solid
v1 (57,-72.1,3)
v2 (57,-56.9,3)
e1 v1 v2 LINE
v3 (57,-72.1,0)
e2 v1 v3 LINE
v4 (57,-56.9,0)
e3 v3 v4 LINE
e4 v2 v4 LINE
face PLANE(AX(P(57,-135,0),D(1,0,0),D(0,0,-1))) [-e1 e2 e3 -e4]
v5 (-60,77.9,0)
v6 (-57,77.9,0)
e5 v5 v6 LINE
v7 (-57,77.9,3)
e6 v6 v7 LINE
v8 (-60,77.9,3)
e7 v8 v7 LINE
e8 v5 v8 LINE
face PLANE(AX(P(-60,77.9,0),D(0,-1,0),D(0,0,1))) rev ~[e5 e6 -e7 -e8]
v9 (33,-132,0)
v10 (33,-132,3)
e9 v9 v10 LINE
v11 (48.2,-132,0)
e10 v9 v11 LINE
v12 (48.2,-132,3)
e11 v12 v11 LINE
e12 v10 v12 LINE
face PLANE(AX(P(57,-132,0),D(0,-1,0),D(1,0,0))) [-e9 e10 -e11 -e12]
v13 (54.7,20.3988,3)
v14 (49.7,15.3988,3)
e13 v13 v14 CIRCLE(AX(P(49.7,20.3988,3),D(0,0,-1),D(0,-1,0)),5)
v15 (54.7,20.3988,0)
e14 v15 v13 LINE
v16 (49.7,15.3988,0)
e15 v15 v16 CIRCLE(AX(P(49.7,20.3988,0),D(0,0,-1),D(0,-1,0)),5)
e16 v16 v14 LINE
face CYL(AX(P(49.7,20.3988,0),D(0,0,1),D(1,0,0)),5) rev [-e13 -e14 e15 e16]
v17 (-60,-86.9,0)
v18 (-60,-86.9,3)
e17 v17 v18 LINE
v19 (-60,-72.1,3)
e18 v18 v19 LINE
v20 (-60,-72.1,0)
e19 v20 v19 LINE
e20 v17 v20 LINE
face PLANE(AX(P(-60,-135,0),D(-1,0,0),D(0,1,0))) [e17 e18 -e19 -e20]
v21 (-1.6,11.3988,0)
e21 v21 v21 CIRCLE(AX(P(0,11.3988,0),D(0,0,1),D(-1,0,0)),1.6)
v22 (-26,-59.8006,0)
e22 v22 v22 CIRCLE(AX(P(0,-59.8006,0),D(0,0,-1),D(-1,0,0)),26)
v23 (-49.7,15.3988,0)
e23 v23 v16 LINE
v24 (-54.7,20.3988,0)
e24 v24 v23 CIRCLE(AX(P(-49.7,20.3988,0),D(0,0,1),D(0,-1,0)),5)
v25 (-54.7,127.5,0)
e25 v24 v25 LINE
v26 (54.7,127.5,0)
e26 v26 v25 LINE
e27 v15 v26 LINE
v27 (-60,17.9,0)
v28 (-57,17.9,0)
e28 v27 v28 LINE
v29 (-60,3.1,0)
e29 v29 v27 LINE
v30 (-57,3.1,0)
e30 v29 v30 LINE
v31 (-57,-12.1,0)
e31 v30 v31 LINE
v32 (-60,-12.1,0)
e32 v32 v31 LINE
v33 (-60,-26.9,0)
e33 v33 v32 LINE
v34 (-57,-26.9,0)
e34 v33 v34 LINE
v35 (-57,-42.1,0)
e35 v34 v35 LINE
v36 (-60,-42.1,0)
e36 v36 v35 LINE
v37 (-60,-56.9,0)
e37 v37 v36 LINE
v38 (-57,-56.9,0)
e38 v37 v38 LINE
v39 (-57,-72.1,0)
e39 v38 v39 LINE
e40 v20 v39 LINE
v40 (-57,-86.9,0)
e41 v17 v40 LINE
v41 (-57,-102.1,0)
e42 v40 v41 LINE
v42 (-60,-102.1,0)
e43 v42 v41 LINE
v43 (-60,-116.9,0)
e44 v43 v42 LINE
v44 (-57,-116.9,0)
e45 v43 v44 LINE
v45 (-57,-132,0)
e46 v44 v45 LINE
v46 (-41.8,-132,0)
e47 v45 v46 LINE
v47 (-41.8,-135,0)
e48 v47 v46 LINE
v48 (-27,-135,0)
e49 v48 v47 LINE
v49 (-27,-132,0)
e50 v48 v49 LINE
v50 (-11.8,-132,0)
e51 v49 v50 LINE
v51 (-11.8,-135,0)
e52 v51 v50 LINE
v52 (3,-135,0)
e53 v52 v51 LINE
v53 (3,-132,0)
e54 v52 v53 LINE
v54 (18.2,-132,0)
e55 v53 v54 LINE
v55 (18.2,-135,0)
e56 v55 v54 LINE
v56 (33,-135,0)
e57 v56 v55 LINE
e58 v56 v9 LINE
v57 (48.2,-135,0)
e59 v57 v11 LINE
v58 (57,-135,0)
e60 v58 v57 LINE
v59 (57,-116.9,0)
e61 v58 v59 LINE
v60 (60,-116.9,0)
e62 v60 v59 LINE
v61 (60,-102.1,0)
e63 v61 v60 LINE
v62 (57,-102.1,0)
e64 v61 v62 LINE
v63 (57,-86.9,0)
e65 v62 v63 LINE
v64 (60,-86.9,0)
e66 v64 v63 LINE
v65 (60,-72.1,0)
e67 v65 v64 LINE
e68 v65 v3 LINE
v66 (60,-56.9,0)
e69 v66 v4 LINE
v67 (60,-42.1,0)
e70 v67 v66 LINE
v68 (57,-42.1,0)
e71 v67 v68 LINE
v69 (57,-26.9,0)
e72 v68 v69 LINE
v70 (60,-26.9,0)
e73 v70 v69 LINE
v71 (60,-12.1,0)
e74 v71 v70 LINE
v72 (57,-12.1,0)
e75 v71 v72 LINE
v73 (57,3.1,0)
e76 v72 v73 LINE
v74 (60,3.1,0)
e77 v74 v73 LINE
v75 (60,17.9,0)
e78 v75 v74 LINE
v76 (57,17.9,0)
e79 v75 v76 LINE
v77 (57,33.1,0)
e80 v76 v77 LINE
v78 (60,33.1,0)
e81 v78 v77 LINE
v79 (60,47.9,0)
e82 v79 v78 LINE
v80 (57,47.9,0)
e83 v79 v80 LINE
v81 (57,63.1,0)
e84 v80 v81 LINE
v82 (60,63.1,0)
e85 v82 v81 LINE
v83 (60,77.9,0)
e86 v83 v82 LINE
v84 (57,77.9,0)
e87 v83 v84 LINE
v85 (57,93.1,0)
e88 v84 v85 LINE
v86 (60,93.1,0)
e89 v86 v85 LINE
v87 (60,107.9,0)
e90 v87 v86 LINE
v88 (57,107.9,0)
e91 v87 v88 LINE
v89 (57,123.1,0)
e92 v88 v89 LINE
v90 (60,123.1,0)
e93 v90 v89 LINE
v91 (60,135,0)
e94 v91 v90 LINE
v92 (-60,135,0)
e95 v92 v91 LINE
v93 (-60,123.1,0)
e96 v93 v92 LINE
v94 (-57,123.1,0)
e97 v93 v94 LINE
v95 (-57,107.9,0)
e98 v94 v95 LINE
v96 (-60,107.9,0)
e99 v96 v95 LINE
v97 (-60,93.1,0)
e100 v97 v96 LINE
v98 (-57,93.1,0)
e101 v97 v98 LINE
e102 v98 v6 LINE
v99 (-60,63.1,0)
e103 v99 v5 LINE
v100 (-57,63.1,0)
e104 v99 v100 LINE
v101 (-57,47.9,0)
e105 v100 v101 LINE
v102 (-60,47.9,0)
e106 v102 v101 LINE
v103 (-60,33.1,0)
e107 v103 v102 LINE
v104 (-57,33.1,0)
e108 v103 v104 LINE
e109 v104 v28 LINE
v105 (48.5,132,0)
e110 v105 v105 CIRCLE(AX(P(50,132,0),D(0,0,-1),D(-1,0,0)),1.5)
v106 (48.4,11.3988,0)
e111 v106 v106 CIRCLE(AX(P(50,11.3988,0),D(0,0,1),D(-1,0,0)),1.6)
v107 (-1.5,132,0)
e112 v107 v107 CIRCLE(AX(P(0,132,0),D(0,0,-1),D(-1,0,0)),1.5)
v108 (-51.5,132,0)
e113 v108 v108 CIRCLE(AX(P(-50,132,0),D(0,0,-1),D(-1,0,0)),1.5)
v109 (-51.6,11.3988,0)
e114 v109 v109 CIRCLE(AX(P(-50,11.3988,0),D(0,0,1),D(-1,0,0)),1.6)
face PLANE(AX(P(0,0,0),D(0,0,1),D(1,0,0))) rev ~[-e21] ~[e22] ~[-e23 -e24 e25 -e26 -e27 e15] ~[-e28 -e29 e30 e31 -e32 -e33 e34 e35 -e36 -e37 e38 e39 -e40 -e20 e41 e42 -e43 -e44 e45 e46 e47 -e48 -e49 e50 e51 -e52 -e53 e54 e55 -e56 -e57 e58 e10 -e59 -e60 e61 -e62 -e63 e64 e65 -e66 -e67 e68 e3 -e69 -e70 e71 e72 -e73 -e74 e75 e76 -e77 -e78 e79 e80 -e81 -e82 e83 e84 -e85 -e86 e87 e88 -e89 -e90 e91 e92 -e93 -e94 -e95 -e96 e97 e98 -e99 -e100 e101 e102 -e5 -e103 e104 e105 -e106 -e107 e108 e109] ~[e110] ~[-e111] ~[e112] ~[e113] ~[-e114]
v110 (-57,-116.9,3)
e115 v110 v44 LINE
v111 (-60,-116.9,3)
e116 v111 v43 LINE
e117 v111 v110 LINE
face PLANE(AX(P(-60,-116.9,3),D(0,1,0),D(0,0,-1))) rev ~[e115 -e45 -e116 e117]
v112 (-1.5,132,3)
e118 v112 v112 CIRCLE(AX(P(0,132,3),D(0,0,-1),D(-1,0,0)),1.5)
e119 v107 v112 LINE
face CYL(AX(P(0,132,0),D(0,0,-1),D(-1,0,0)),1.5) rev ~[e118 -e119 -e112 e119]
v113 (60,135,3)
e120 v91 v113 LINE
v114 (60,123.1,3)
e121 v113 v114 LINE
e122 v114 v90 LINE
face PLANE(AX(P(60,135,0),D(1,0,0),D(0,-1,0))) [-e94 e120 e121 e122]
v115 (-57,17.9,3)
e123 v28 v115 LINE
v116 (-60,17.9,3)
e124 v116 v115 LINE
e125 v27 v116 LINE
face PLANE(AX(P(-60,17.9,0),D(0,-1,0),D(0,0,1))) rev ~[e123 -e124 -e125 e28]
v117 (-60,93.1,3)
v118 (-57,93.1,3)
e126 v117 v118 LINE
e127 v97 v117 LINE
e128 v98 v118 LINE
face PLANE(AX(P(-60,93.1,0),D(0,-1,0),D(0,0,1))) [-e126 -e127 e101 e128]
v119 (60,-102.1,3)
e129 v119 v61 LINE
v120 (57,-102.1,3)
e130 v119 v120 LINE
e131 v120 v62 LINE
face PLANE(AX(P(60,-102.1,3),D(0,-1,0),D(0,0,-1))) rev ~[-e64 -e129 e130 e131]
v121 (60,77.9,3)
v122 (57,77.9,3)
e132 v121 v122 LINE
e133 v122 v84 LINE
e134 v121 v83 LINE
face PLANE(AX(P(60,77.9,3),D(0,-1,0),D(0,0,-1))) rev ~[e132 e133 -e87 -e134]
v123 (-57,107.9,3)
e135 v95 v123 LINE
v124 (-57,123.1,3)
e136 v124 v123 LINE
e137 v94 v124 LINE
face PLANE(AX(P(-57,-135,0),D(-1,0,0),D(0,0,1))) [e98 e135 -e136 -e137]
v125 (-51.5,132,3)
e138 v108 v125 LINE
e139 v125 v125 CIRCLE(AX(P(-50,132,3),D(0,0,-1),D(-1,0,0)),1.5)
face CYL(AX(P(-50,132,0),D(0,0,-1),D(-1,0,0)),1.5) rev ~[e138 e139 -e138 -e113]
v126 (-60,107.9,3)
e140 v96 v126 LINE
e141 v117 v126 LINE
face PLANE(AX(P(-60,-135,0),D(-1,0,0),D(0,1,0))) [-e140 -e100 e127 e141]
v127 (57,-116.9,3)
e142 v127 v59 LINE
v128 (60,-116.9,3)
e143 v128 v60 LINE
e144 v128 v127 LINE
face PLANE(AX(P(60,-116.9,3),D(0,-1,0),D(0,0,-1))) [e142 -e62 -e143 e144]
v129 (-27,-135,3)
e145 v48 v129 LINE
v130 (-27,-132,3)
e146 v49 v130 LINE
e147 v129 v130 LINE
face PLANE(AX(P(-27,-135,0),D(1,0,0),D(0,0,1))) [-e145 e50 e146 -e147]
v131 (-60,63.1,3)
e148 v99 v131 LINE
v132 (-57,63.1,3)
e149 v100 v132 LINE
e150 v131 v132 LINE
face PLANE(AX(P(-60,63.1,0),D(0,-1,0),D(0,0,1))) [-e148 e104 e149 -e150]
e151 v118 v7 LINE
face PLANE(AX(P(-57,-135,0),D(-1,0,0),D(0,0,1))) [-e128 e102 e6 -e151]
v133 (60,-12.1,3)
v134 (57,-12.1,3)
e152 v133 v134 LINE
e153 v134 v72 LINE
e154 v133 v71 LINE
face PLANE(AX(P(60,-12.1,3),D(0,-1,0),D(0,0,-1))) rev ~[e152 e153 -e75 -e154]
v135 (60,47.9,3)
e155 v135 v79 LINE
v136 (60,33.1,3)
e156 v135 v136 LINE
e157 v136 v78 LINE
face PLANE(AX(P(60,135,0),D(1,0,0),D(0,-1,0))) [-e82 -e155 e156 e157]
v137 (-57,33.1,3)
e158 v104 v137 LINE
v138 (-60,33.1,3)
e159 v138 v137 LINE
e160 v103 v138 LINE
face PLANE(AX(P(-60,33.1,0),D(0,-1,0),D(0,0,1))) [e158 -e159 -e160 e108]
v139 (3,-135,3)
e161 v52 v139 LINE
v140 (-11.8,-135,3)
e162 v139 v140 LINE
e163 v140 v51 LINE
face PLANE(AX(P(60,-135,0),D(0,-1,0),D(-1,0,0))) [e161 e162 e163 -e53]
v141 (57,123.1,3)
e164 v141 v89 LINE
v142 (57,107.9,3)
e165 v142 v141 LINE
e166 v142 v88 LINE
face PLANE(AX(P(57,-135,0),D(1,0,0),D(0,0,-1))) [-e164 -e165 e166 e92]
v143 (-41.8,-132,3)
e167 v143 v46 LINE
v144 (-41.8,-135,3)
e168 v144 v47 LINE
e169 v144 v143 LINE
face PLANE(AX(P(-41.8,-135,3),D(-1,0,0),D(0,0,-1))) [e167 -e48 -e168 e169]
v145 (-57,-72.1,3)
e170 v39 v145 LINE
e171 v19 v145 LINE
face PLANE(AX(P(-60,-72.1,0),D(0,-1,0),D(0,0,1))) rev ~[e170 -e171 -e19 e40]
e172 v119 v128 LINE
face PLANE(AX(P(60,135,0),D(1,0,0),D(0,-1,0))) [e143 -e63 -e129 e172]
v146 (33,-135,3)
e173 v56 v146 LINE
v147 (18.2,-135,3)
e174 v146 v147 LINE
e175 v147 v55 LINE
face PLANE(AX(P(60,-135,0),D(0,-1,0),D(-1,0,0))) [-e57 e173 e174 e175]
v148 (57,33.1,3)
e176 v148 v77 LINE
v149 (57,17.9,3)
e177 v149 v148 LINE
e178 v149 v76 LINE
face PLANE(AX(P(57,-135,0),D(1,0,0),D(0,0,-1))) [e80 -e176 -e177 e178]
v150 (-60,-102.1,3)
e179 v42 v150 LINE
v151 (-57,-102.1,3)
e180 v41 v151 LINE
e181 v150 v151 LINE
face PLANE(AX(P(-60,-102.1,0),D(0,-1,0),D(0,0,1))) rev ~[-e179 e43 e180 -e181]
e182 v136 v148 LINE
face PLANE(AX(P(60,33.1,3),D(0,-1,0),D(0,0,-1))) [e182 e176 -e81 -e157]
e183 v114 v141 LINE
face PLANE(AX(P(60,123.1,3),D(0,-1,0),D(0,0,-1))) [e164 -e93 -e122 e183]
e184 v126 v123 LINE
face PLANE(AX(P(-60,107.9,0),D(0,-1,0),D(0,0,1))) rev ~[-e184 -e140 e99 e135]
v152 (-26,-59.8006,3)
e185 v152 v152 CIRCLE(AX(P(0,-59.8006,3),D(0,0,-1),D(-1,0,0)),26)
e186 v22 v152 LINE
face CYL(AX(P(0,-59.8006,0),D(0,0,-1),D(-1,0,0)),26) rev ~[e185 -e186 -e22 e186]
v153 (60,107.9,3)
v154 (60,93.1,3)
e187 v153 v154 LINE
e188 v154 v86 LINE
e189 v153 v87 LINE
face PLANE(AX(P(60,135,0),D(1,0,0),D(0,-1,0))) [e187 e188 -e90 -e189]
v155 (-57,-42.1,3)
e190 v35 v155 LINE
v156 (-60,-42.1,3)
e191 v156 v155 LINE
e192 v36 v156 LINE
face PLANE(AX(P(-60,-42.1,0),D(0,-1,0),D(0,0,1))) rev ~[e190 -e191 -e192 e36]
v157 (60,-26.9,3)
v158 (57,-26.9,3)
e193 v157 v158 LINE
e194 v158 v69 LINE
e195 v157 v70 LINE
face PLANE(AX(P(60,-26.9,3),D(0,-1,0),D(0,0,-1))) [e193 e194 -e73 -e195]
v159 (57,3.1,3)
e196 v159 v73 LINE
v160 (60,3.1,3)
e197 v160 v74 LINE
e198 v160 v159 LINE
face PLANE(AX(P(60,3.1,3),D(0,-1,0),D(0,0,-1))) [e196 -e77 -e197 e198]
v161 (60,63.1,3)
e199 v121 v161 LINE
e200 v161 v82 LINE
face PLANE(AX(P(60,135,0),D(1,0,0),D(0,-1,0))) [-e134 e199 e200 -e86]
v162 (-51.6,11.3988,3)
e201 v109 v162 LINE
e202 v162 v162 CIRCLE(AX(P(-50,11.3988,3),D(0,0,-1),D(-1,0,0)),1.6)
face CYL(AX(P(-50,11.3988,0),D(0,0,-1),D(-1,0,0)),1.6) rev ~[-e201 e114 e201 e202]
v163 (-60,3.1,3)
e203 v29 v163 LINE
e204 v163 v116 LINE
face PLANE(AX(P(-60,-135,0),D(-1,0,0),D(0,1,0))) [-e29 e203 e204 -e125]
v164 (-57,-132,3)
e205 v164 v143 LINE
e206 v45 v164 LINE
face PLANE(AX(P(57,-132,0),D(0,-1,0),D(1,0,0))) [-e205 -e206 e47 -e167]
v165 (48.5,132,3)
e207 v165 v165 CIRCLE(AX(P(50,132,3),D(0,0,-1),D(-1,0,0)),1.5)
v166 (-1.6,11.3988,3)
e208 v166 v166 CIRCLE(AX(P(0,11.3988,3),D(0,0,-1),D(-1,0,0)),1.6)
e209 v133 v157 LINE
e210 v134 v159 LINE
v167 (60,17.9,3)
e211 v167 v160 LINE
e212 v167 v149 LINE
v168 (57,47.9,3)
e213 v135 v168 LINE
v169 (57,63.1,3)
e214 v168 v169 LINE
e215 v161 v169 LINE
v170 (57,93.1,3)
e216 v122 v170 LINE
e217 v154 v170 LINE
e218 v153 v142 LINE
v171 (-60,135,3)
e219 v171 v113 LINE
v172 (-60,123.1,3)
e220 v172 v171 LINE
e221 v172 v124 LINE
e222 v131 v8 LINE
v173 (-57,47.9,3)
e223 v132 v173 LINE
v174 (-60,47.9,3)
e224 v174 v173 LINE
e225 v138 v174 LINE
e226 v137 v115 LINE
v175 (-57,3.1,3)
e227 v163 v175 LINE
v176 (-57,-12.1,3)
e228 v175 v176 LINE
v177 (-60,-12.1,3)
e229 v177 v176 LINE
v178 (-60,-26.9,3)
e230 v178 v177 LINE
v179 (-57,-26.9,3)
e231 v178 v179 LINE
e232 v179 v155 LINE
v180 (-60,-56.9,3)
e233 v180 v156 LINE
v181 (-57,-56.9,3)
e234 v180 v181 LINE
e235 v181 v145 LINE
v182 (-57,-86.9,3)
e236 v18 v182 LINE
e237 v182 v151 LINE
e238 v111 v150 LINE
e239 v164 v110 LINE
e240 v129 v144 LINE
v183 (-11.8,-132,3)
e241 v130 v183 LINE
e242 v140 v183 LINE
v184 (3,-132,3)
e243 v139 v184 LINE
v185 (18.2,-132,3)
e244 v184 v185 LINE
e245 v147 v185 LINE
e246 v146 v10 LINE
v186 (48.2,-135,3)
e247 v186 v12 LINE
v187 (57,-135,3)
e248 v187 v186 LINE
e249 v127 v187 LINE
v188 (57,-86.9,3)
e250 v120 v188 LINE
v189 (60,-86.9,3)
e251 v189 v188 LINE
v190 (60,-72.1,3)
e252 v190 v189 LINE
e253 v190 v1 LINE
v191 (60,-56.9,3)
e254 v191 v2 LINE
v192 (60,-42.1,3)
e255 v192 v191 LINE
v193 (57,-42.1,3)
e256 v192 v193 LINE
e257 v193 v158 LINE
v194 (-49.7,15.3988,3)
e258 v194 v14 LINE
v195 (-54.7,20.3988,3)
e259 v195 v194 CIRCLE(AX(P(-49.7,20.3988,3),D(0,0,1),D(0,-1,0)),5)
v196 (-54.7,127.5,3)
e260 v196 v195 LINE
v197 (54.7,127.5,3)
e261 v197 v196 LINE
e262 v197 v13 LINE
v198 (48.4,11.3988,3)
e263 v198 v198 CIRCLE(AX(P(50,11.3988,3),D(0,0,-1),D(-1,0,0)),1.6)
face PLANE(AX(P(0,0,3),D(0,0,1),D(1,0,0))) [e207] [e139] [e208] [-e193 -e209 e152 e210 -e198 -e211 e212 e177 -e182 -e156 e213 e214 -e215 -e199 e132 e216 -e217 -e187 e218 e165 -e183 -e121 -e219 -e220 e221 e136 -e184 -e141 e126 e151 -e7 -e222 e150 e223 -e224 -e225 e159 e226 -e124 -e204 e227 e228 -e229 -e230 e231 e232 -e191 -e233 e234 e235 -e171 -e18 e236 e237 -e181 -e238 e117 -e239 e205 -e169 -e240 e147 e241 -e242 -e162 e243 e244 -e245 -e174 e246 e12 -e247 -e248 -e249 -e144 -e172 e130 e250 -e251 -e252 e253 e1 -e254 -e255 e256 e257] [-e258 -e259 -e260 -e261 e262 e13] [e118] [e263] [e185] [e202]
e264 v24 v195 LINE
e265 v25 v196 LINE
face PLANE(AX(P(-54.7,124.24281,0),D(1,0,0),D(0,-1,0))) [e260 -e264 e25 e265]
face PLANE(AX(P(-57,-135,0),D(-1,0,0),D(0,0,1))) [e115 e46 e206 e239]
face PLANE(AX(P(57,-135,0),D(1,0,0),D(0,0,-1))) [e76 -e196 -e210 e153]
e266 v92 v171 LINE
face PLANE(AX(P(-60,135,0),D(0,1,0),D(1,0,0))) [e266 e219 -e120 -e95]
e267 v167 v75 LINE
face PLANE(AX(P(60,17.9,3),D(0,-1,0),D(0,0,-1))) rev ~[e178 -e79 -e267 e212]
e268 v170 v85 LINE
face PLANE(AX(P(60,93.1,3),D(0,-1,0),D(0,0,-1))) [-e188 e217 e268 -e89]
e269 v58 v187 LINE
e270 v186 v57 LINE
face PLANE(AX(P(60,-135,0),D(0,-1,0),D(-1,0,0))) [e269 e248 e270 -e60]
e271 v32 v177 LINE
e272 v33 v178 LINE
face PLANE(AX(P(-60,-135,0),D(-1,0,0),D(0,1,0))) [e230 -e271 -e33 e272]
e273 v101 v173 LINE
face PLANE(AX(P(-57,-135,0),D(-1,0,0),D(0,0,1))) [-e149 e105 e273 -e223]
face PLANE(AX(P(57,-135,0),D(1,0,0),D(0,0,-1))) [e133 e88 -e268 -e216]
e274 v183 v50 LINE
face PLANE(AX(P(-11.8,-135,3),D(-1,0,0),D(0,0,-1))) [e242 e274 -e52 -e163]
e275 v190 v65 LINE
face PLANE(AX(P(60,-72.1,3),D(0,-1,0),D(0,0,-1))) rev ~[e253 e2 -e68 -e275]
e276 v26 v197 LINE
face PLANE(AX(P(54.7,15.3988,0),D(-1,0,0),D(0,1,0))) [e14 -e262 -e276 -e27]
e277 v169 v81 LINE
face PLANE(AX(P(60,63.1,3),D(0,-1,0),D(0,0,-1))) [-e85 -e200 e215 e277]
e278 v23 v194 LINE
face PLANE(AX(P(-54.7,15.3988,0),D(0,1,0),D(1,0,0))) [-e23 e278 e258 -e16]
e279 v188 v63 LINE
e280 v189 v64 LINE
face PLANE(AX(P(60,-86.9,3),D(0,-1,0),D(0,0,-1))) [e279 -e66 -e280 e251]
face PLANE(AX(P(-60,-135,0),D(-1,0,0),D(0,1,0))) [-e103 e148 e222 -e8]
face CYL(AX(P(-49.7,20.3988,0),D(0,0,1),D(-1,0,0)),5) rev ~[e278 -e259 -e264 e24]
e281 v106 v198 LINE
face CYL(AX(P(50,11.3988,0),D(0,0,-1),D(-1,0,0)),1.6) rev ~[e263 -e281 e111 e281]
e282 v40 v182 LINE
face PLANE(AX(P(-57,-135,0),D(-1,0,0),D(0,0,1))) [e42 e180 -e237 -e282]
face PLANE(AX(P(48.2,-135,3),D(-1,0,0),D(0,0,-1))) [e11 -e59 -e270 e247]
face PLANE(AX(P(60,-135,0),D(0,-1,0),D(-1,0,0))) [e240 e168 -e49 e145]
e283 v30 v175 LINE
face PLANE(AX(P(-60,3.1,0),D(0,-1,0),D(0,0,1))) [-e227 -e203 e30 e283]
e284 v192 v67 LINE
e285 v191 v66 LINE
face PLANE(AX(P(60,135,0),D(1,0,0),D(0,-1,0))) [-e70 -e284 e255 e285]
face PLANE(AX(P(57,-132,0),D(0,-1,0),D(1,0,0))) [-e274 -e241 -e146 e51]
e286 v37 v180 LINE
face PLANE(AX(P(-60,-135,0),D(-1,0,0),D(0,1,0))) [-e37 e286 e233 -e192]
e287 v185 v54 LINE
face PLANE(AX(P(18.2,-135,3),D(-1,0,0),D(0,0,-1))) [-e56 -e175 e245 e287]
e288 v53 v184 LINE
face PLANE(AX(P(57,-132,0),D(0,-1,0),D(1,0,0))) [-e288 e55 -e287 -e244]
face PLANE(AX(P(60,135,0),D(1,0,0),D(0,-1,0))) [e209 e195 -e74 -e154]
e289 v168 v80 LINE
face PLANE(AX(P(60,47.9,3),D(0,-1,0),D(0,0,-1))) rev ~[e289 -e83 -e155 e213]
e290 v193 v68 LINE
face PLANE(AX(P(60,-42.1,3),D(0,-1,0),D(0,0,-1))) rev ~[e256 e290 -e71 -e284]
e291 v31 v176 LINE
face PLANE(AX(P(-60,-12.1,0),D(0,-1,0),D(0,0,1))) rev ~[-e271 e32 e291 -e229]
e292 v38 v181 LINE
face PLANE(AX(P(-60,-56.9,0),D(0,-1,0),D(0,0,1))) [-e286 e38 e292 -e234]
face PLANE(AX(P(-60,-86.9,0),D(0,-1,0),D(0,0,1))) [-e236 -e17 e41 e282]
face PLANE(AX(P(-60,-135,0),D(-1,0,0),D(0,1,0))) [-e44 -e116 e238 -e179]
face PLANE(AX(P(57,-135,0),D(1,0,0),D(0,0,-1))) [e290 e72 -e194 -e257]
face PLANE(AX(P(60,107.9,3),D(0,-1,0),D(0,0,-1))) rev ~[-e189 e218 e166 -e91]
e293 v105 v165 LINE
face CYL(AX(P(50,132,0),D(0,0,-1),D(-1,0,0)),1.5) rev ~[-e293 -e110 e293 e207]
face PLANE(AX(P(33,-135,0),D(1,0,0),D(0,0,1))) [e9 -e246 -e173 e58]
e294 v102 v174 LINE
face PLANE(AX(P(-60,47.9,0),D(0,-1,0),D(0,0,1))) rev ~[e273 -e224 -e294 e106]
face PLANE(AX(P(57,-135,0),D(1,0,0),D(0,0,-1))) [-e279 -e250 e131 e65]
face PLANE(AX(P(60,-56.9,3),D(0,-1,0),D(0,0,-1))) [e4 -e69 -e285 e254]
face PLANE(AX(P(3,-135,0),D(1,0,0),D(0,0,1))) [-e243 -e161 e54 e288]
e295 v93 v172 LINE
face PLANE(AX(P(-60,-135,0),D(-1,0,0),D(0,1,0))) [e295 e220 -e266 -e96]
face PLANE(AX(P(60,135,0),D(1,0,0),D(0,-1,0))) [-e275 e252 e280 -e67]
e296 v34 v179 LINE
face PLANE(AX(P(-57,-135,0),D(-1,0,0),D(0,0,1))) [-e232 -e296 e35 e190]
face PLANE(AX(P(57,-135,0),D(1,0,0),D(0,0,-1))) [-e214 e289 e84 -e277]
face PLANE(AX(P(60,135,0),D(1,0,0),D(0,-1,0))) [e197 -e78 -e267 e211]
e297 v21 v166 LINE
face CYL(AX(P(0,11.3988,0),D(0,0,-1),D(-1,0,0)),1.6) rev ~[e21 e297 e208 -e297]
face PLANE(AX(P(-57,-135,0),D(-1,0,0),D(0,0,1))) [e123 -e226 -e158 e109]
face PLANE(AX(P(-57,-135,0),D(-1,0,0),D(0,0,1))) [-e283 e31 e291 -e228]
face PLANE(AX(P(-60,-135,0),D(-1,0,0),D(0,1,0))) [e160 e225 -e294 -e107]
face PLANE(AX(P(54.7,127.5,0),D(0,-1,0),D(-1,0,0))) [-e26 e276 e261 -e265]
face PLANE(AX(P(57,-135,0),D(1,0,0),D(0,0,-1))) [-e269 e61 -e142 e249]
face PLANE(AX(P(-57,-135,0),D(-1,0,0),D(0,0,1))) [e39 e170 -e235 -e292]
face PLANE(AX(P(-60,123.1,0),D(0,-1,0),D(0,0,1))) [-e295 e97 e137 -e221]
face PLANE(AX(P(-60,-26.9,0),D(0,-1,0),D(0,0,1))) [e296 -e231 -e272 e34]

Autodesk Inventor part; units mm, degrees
ref_plane "YZ Plane" through (0, 0, 0) normal (1, 0, 0) x (0, 1, 0)
ref_plane "XZ Plane" through (0, 0, 0) normal (0, 1, 0) x (-1, 0, 0)
ref_plane "XY Plane" through (0, 0, 0) normal (0, 0, 1) x (1, 0, 0)
sketch "Esboço1" plane through (0, 0, 0) normal (0, 0, 1) x (1, 0, 0)
  line L0 (60, -135) -> (-60, -135)
  line L1 (-60, -135) -> (-60, 135)
  line L2 (-60, 135) -> (60, 135)
  line L3 (60, 135) -> (60, -135)
  line L4 (60, -135) -> (-60, 135) construction
  line L5 (-60, -135) -> (60, 135) construction
  point P0 (0, 0)
  dimension "d0" = 120
  dimension "d1" = 270
extrude "Extrusão1" add sketch "Esboço1" along normal blind 3
sketch "Esboço3" plane through (60, -135, 0) normal (1, 0, 0) x (0, 0, -1)
  line L0 (0, 0) -> (-3, 0) projected
  line L1 (0, 0) -> (-3, 0)
  line L2 (-3, 0) -> (-3, 18.1)
  line L3 (-3, 18.1) -> (0, 18.1)
  line L4 (0, 18.1) -> (0, 0)
  line L5 (-3, 2.9) -> (0, 2.9)
  line L6 (-3, 48.1) -> (0, 48.1)
  line L7 (-3, 32.9) -> (0, 32.9)
  line L8 (-3, 78.1) -> (0, 78.1)
  line L9 (-3, 62.9) -> (0, 62.9)
  line L10 (-3, 108.1) -> (0, 108.1)
  line L11 (-3, 92.9) -> (0, 92.9)
  line L12 (-3, 138.1) -> (0, 138.1)
  line L13 (-3, 122.9) -> (0, 122.9)
  line L14 (-3, 168.1) -> (0, 168.1)
  line L15 (-3, 152.9) -> (0, 152.9)
  line L16 (-3, 198.1) -> (0, 198.1)
  line L17 (-3, 182.9) -> (0, 182.9)
  line L18 (-3, 228.1) -> (0, 228.1)
  line L19 (-3, 212.9) -> (0, 212.9)
  line L20 (-3, 258.1) -> (0, 258.1)
  line L21 (-3, 242.9) -> (0, 242.9)
  line L22 (-3, 288.1) -> (0, 288.1)
  line L23 (-3, 272.9) -> (0, 272.9)
  line L24 (-3, 0) -> (-3, 270) projected
  line L25 (0, 0) -> (0, 270) projected
  point P0 (0, 135)
  dimension "d13" = 18.1
  dimension "d14" = 3
  dimension "d38" = 2.9
  dimension "d41" = 30
extrude "Extrusão2" cut sketch "Esboço3" against normal blind 3 contours L0 L2 L5 L4 | L5 L2 L3 L4 | L7 L24 L6 L25 | L9 L24 L8 L25 | L11 L24 L10 L25 | L13 L24 L12 L25 | L15 L24 L14 L25 | L17 L24 L16 L25 | L19 L24 L18 L25 | L21 L24 L20 L25
sketch "Esboço5" plane through (57, -135, 0) normal (0, -1, 0) x (1, 0, 0)
  line L0 (-117, 0) -> (0, 0) projected
  line L1 (-114, 3) -> (-98.8, 3)
  line L2 (-98.8, 3) -> (-98.8, 0)
  line L3 (-98.8, 0) -> (-114, 0)
  line L4 (-114, 0) -> (-114, 3)
  line L5 (-84, 3) -> (-68.8, 3)
  line L6 (-68.8, 3) -> (-68.8, 0)
  line L7 (-68.8, 0) -> (-84, 0)
  line L8 (-84, 0) -> (-84, 3)
  line L9 (-54, 3) -> (-38.8, 3)
  line L10 (-38.8, 3) -> (-38.8, 0)
  line L11 (-38.8, 0) -> (-54, 0)
  line L12 (-54, 0) -> (-54, 3)
  line L13 (-24, 3) -> (-8.8, 3)
  line L14 (-8.8, 3) -> (-8.8, 0)
  line L15 (-8.8, 0) -> (-24, 0)
  line L16 (-24, 0) -> (-24, 3)
  line L17 (-117, 0) -> (-117, 3) projected
  point P0 (-57, 0)
  point P1 (-24, 0)
  point P2 (-54, 0)
  point P3 (-84, 0)
  point P4 (-117, 1.5)
  point P5 (-114, 1.5)
  dimension "d26" = 15.2
  dimension "d29" = 30
  dimension "d56" = 3
extrude "Extrusão4" cut sketch "Esboço5" against normal blind 3
sketch "Esboço7" plane through (-60, -135, 0) normal (-1, 0, 0) x (0, 0, 1)
  line L0 (3, 18.1) -> (0, 18.1) projected
  line L1 (3, 0) -> (3, 18.1) projected
  line L2 (0, 18.1) -> (0, 0) projected
  line L3 (0, 32.9) -> (3, 32.9) projected
  line L4 (3, 270) -> (3, 0) projected
  line L5 (0, 270) -> (0, 0) projected
  line L6 (0, 32.9) -> (3, 32.9)
  line L7 (0, 18.1) -> (3, 18.1)
  line L8 (0, 48.1) -> (3, 48.1)
  line L9 (0, 62.9) -> (3, 62.9)
  line L10 (0, 78.1) -> (3, 78.1)
  line L11 (0, 92.9) -> (3, 92.9)
  line L12 (0, 108.1) -> (3, 108.1)
  line L13 (0, 122.9) -> (3, 122.9)
  line L14 (0, 138.1) -> (3, 138.1)
  line L15 (0, 152.9) -> (3, 152.9)
  line L16 (0, 168.1) -> (3, 168.1)
  line L17 (0, 182.9) -> (3, 182.9)
  line L18 (0, 198.1) -> (3, 198.1)
  line L19 (0, 212.9) -> (3, 212.9)
  line L20 (0, 228.1) -> (3, 228.1)
  line L21 (0, 242.9) -> (3, 242.9)
  line L22 (0, 258.1) -> (3, 258.1)
  line L23 (0, 272.9) -> (3, 272.9)
  line L24 (0, 288.1) -> (3, 288.1)
  line L25 (0, 302.9) -> (3, 302.9)
  line L26 (3, 0) -> (0, 0) projected
  line L27 (0, 0) -> (0, 270) projected
  line L28 (0, 270) -> (3, 270) projected
  line L29 (3, 270) -> (3, 0) projected
  point P0 (0, 135)
  point P1 (3, 258.1)
  point P2 (0, 258.1)
  point P3 (0, 242.9)
  point P4 (3, 242.9)
  point P5 (3, 228.1)
  point P6 (0, 228.1)
  point P7 (0, 212.9)
  point P8 (3, 212.9)
  point P9 (3, 198.1)
  point P10 (0, 198.1)
  point P11 (0, 182.9)
  point P12 (3, 182.9)
  point P13 (3, 168.1)
  point P14 (0, 168.1)
  point P15 (0, 152.9)
  point P16 (3, 152.9)
  point P17 (3, 138.1)
  point P18 (0, 138.1)
  point P19 (0, 122.9)
  point P20 (3, 122.9)
  point P21 (3, 108.1)
  point P22 (0, 108.1)
  point P23 (0, 92.9)
  point P24 (3, 92.9)
  point P25 (3, 78.1)
  point P26 (0, 78.1)
  point P27 (0, 62.9)
  point P28 (3, 62.9)
  point P29 (3, 48.1)
  point P30 (0, 48.1)
  dimension "d49" = 30
extrude "Extrusão5" cut sketch "Esboço7" against normal blind 3 contours L1 L26 L2 L0 | L3 L5 L8 L4 | L9 L5 L10 L4 | L11 L5 L12 L4 | L13 L5 L14 L4 | L15 L5 L16 L4 | L17 L5 L18 L4 | L19 L5 L20 L4 | L21 L5 L22 L4
sketch "Esboço8" plane through (0, 0, 0) normal (0, 0, -1) x (-1, 0, 0)
  line L0 (-57, -86.9) -> (-60, -86.9) construction
  line L1 (-60, -86.9) -> (-60, -72.1) construction
  line L2 (-60, -72.1) -> (-57, -72.1) construction
  line L3 (-57, -72.1) -> (-57, -56.9) construction
  line L4 (-57, -56.9) -> (-60, -56.9) construction
  line L5 (-60, -56.9) -> (-60, -42.1) construction
  line L6 (-60, -42.1) -> (-57, -42.1) construction
  line L7 (-57, -42.1) -> (-57, -26.9) construction
  line L8 (-57, -26.9) -> (-60, -26.9) construction
  line L9 (-60, -26.9) -> (-60, -12.1) construction
  line L10 (-60, -12.1) -> (-57, -12.1) construction
  line L11 (-57, -12.1) -> (-57, 3.1) construction
  line L12 (-57, 3.1) -> (-60, 3.1) construction
  line L13 (-60, 3.1) -> (-60, 17.9) construction
  line L14 (-60, 17.9) -> (-57, 17.9) construction
  line L15 (-57, 17.9) -> (-57, 33.1) construction
  line L16 (-57, 33.1) -> (-60, 33.1) construction
  line L17 (-60, 33.1) -> (-60, 47.9) construction
  line L18 (-60, 47.9) -> (-57, 47.9) construction
  line L19 (-57, 47.9) -> (-57, 63.1) construction
  line L20 (-57, 63.1) -> (-60, 63.1) construction
  line L21 (-60, 63.1) -> (-60, 77.9) construction
  line L22 (-60, 77.9) -> (-57, 77.9) construction
  line L23 (-57, 77.9) -> (-57, 93.1) construction
  line L24 (-57, 93.1) -> (-60, 93.1) construction
  line L25 (-60, 93.1) -> (-60, 107.9) construction
  line L26 (-60, 107.9) -> (-57, 107.9) construction
  line L27 (-57, 107.9) -> (-57, 123.1) construction
  line L28 (-57, 123.1) -> (-60, 123.1) construction
  line L29 (-60, 123.1) -> (-60, 135) construction
  line L30 (-60, 135) -> (60, 135) construction
  line L31 (60, 135) -> (60, 123.1) construction
  line L32 (60, 123.1) -> (57, 123.1) construction
  line L33 (57, 123.1) -> (57, 107.9) construction
  line L34 (57, 107.9) -> (60, 107.9) construction
  line L35 (60, 107.9) -> (60, 93.1) construction
  line L36 (60, 93.1) -> (57, 93.1) construction
  line L37 (57, 93.1) -> (57, 77.9) construction
  line L38 (57, 77.9) -> (60, 77.9) construction
  line L39 (60, 77.9) -> (60, 63.1) construction
  line L40 (60, 63.1) -> (57, 63.1) construction
  line L41 (57, 63.1) -> (57, 47.9) construction
  line L42 (57, 47.9) -> (60, 47.9) construction
  line L43 (60, 47.9) -> (60, 33.1) construction
  line L44 (60, 33.1) -> (57, 33.1) construction
  line L45 (57, 33.1) -> (57, 17.9) construction
  line L46 (57, 17.9) -> (60, 17.9) construction
  line L47 (60, 17.9) -> (60, 3.1) construction
  line L48 (60, 3.1) -> (57, 3.1) construction
  line L49 (57, 3.1) -> (57, -12.1) construction
  line L50 (57, -12.1) -> (60, -12.1) construction
  line L51 (60, -12.1) -> (60, -26.9) construction
  line L52 (60, -26.9) -> (57, -26.9) construction
  line L53 (57, -26.9) -> (57, -42.1) construction
  line L54 (57, -42.1) -> (60, -42.1) construction
  line L55 (60, -42.1) -> (60, -56.9) construction
  line L56 (60, -56.9) -> (57, -56.9) construction
  line L57 (57, -56.9) -> (57, -72.1) construction
  line L58 (57, -72.1) -> (60, -72.1) construction
  line L59 (60, -72.1) -> (60, -86.9) construction
  line L60 (60, -86.9) -> (57, -86.9) construction
  line L61 (57, -86.9) -> (57, -102.1) construction
  line L62 (57, -102.1) -> (60, -102.1) construction
  line L63 (60, -102.1) -> (60, -116.9) construction
  line L64 (60, -116.9) -> (57, -116.9) construction
  line L65 (57, -116.9) -> (57, -132) construction
  line L66 (57, -132) -> (41.8, -132) construction
  line L67 (41.8, -132) -> (41.8, -135) construction
  line L68 (41.8, -135) -> (27, -135) construction
  line L69 (27, -135) -> (27, -132) construction
  line L70 (27, -132) -> (11.8, -132) construction
  line L71 (11.8, -132) -> (11.8, -135) construction
  line L72 (11.8, -135) -> (-3, -135) construction
  line L73 (-3, -135) -> (-3, -132) construction
  line L74 (-3, -132) -> (-18.2, -132) construction
  line L75 (-18.2, -132) -> (-18.2, -135) construction
  line L76 (-18.2, -135) -> (-33, -135) construction
  line L77 (-33, -135) -> (-33, -132) construction
  line L78 (-33, -132) -> (-48.2, -132) construction
  line L79 (-48.2, -132) -> (-48.2, -135) construction
  line L80 (-48.2, -135) -> (-57, -135) construction
  line L81 (-57, -135) -> (-57, -116.9) construction
  line L82 (-57, -116.9) -> (-60, -116.9) construction
  line L83 (-60, -116.9) -> (-60, -102.1) construction
  line L84 (-60, -102.1) -> (-57, -102.1) construction
  line L85 (-57, -102.1) -> (-57, -86.9) construction
  ellipse E0 centre (-55.4, 11.3042) end of major axis (-55.4, 8.4758) minor radius 2 (-57.4, 11.3042) -> (-57.1743, 9.9988) ccw
  line L86 (-57.1743, 9.9988) -> (59.4, 9.9988)
  line L87 (59.4, 127.5) -> (59.4, 9.9988)
  line L88 (-57.4, 127.5) -> (59.4, 127.5)
  line L89 (-57.4, 127.5) -> (-57.4, 11.3042)
  ellipse E1 centre (-56.5, 121.6939) end of major axis (-56.5, 127.5415) minor radius 2 (-54.5, 121.6939) -> (-55.7002, 127.0537) ccw
  line L90 (-55.7002, 127.0537) -> (55.7002, 127.0537)
  ellipse E2 centre (56.5, 121.6939) end of major axis (56.5, 127.5415) minor radius 2 (55.7002, 127.0537) -> (54.5, 121.6939) ccw
  line L91 (54.5, 121.6939) -> (54.5, 105.9054)
  line L92 (54.5, 105.9054) -> (49.5, 105.9054) construction
  line L93 (49.5, 105.9054) -> (49.5, 116.4119) construction
  line L94 (49.5, 116.4119) -> (-49.5, 116.4119) construction
  line L95 (-49.5, 116.4119) -> (-49.5, 105.9054) construction
  line L96 (-49.5, 105.9054) -> (-54.5, 105.9054) construction
  line L97 (-54.5, 105.9054) -> (-54.5, 121.6939)
  circle A0 centre (-50, 132) radius 1.5
  circle A1 centre (0, 132) radius 1.5
  circle A2 centre (50, 132) radius 1.5
  line L98 (60, 7.3988) -> (-60, 7.3988)
  line L99 (-60, 7.3988) -> (-60, 136)
  line L100 (-60, 136) -> (60, 136)
  line L101 (60, 136) -> (60, 7.3988)
  line L102 (-60, 7.3988) -> (60, 7.3988)
  line L103 (60, 7.3988) -> (60, 15.3988)
  line L104 (60, 15.3988) -> (-60, 15.3988)
  line L105 (-60, 15.3988) -> (-60, 7.3988)
  line L106 (-60, 11.3988) -> (60, 11.3988) construction
  circle A3 centre (0, 11.3988) radius 1.6
  circle A4 centre (-50, 11.3988) radius 1.6
  circle A5 centre (50, 11.3988) radius 1.6
  line L107 (54.5, 66.3189) -> (54.5, 124.5798)
  line L108 (-54.5, 124.5798) -> (-54.5, 66.3189)
  line L109 (-60, 136) -> (60, 136)
  line L110 (-60, 135) -> (60, 135) projected
  line L111 (-54.7, 15.3988) -> (-54.7, 127.5)
  line L112 (54.7, 127.5) -> (54.7, 15.3988)
  point P0 (-60, 49.3988)
  point P1 (54.7, 127.0537)
  point P2 (-54.7, 127.0537)
  point P3 (54.7, 124.2429)
  point P4 (-54.7, 124.2429)
  point P5 (-55.6594, 127)
  point P6 (55.6594, 127)
  point P7 (-49.2254, 9.9988)
  point P8 (-50.7746, 9.9988)
  point P9 (0.7746, 9.9988)
  point P10 (-0.7746, 9.9988)
  point P11 (50.7746, 9.9988)
  point P12 (49.2254, 9.9988)
  dimension "d91" = 8
  dimension "d92" = 3.2
  dimension "d93" = 3.2
  dimension "d94" = 3.2
  dimension "d95" = 1
  dimension "d96" = 0.2
  dimension "d97" = 0.2
  dimension "d101" = 7.5
extrude "Extrusão6" cut sketch "Esboço8" against normal up to surface (3 mm away) contours A4 L86 | L86 A4 | L111 L90 L112 L104 | L88 L112 L90 L111 | A3 L86 | L86 A3 | A5 L86 | L86 A5 | A0 | A1 | A2
fillet "Arredondamento1" radius 5 2 edges at (54.7, 15.3988, 1.5) (-54.7, 15.3988, 1.5)
sketch "Esboço9" plane through (0, 0, 0) normal (0, 0, -1) x (-1, 0, 0)
  circle A0 centre (0, -59.8006) radius 26
  line L0 (49.7, 15.3988) -> (-49.7, 15.3988) projected
  line L1 (0, 15.3988) -> (0, -135) construction
  line L2 (11.8, -135) -> (-3, -135) projected
  point P0 (0, 0)
  point P1 (0, -59.8006)
  dimension "d102" = 52
extrude "Extrusão7" cut sketch "Esboço9" against normal up to surface (3 mm away)
equation "\"d14\" = d4"
equation "\"d93\" = d92"
equation "\"d94\" = d92"
equation "\"d4\" = 3"
properties part number "frente"
